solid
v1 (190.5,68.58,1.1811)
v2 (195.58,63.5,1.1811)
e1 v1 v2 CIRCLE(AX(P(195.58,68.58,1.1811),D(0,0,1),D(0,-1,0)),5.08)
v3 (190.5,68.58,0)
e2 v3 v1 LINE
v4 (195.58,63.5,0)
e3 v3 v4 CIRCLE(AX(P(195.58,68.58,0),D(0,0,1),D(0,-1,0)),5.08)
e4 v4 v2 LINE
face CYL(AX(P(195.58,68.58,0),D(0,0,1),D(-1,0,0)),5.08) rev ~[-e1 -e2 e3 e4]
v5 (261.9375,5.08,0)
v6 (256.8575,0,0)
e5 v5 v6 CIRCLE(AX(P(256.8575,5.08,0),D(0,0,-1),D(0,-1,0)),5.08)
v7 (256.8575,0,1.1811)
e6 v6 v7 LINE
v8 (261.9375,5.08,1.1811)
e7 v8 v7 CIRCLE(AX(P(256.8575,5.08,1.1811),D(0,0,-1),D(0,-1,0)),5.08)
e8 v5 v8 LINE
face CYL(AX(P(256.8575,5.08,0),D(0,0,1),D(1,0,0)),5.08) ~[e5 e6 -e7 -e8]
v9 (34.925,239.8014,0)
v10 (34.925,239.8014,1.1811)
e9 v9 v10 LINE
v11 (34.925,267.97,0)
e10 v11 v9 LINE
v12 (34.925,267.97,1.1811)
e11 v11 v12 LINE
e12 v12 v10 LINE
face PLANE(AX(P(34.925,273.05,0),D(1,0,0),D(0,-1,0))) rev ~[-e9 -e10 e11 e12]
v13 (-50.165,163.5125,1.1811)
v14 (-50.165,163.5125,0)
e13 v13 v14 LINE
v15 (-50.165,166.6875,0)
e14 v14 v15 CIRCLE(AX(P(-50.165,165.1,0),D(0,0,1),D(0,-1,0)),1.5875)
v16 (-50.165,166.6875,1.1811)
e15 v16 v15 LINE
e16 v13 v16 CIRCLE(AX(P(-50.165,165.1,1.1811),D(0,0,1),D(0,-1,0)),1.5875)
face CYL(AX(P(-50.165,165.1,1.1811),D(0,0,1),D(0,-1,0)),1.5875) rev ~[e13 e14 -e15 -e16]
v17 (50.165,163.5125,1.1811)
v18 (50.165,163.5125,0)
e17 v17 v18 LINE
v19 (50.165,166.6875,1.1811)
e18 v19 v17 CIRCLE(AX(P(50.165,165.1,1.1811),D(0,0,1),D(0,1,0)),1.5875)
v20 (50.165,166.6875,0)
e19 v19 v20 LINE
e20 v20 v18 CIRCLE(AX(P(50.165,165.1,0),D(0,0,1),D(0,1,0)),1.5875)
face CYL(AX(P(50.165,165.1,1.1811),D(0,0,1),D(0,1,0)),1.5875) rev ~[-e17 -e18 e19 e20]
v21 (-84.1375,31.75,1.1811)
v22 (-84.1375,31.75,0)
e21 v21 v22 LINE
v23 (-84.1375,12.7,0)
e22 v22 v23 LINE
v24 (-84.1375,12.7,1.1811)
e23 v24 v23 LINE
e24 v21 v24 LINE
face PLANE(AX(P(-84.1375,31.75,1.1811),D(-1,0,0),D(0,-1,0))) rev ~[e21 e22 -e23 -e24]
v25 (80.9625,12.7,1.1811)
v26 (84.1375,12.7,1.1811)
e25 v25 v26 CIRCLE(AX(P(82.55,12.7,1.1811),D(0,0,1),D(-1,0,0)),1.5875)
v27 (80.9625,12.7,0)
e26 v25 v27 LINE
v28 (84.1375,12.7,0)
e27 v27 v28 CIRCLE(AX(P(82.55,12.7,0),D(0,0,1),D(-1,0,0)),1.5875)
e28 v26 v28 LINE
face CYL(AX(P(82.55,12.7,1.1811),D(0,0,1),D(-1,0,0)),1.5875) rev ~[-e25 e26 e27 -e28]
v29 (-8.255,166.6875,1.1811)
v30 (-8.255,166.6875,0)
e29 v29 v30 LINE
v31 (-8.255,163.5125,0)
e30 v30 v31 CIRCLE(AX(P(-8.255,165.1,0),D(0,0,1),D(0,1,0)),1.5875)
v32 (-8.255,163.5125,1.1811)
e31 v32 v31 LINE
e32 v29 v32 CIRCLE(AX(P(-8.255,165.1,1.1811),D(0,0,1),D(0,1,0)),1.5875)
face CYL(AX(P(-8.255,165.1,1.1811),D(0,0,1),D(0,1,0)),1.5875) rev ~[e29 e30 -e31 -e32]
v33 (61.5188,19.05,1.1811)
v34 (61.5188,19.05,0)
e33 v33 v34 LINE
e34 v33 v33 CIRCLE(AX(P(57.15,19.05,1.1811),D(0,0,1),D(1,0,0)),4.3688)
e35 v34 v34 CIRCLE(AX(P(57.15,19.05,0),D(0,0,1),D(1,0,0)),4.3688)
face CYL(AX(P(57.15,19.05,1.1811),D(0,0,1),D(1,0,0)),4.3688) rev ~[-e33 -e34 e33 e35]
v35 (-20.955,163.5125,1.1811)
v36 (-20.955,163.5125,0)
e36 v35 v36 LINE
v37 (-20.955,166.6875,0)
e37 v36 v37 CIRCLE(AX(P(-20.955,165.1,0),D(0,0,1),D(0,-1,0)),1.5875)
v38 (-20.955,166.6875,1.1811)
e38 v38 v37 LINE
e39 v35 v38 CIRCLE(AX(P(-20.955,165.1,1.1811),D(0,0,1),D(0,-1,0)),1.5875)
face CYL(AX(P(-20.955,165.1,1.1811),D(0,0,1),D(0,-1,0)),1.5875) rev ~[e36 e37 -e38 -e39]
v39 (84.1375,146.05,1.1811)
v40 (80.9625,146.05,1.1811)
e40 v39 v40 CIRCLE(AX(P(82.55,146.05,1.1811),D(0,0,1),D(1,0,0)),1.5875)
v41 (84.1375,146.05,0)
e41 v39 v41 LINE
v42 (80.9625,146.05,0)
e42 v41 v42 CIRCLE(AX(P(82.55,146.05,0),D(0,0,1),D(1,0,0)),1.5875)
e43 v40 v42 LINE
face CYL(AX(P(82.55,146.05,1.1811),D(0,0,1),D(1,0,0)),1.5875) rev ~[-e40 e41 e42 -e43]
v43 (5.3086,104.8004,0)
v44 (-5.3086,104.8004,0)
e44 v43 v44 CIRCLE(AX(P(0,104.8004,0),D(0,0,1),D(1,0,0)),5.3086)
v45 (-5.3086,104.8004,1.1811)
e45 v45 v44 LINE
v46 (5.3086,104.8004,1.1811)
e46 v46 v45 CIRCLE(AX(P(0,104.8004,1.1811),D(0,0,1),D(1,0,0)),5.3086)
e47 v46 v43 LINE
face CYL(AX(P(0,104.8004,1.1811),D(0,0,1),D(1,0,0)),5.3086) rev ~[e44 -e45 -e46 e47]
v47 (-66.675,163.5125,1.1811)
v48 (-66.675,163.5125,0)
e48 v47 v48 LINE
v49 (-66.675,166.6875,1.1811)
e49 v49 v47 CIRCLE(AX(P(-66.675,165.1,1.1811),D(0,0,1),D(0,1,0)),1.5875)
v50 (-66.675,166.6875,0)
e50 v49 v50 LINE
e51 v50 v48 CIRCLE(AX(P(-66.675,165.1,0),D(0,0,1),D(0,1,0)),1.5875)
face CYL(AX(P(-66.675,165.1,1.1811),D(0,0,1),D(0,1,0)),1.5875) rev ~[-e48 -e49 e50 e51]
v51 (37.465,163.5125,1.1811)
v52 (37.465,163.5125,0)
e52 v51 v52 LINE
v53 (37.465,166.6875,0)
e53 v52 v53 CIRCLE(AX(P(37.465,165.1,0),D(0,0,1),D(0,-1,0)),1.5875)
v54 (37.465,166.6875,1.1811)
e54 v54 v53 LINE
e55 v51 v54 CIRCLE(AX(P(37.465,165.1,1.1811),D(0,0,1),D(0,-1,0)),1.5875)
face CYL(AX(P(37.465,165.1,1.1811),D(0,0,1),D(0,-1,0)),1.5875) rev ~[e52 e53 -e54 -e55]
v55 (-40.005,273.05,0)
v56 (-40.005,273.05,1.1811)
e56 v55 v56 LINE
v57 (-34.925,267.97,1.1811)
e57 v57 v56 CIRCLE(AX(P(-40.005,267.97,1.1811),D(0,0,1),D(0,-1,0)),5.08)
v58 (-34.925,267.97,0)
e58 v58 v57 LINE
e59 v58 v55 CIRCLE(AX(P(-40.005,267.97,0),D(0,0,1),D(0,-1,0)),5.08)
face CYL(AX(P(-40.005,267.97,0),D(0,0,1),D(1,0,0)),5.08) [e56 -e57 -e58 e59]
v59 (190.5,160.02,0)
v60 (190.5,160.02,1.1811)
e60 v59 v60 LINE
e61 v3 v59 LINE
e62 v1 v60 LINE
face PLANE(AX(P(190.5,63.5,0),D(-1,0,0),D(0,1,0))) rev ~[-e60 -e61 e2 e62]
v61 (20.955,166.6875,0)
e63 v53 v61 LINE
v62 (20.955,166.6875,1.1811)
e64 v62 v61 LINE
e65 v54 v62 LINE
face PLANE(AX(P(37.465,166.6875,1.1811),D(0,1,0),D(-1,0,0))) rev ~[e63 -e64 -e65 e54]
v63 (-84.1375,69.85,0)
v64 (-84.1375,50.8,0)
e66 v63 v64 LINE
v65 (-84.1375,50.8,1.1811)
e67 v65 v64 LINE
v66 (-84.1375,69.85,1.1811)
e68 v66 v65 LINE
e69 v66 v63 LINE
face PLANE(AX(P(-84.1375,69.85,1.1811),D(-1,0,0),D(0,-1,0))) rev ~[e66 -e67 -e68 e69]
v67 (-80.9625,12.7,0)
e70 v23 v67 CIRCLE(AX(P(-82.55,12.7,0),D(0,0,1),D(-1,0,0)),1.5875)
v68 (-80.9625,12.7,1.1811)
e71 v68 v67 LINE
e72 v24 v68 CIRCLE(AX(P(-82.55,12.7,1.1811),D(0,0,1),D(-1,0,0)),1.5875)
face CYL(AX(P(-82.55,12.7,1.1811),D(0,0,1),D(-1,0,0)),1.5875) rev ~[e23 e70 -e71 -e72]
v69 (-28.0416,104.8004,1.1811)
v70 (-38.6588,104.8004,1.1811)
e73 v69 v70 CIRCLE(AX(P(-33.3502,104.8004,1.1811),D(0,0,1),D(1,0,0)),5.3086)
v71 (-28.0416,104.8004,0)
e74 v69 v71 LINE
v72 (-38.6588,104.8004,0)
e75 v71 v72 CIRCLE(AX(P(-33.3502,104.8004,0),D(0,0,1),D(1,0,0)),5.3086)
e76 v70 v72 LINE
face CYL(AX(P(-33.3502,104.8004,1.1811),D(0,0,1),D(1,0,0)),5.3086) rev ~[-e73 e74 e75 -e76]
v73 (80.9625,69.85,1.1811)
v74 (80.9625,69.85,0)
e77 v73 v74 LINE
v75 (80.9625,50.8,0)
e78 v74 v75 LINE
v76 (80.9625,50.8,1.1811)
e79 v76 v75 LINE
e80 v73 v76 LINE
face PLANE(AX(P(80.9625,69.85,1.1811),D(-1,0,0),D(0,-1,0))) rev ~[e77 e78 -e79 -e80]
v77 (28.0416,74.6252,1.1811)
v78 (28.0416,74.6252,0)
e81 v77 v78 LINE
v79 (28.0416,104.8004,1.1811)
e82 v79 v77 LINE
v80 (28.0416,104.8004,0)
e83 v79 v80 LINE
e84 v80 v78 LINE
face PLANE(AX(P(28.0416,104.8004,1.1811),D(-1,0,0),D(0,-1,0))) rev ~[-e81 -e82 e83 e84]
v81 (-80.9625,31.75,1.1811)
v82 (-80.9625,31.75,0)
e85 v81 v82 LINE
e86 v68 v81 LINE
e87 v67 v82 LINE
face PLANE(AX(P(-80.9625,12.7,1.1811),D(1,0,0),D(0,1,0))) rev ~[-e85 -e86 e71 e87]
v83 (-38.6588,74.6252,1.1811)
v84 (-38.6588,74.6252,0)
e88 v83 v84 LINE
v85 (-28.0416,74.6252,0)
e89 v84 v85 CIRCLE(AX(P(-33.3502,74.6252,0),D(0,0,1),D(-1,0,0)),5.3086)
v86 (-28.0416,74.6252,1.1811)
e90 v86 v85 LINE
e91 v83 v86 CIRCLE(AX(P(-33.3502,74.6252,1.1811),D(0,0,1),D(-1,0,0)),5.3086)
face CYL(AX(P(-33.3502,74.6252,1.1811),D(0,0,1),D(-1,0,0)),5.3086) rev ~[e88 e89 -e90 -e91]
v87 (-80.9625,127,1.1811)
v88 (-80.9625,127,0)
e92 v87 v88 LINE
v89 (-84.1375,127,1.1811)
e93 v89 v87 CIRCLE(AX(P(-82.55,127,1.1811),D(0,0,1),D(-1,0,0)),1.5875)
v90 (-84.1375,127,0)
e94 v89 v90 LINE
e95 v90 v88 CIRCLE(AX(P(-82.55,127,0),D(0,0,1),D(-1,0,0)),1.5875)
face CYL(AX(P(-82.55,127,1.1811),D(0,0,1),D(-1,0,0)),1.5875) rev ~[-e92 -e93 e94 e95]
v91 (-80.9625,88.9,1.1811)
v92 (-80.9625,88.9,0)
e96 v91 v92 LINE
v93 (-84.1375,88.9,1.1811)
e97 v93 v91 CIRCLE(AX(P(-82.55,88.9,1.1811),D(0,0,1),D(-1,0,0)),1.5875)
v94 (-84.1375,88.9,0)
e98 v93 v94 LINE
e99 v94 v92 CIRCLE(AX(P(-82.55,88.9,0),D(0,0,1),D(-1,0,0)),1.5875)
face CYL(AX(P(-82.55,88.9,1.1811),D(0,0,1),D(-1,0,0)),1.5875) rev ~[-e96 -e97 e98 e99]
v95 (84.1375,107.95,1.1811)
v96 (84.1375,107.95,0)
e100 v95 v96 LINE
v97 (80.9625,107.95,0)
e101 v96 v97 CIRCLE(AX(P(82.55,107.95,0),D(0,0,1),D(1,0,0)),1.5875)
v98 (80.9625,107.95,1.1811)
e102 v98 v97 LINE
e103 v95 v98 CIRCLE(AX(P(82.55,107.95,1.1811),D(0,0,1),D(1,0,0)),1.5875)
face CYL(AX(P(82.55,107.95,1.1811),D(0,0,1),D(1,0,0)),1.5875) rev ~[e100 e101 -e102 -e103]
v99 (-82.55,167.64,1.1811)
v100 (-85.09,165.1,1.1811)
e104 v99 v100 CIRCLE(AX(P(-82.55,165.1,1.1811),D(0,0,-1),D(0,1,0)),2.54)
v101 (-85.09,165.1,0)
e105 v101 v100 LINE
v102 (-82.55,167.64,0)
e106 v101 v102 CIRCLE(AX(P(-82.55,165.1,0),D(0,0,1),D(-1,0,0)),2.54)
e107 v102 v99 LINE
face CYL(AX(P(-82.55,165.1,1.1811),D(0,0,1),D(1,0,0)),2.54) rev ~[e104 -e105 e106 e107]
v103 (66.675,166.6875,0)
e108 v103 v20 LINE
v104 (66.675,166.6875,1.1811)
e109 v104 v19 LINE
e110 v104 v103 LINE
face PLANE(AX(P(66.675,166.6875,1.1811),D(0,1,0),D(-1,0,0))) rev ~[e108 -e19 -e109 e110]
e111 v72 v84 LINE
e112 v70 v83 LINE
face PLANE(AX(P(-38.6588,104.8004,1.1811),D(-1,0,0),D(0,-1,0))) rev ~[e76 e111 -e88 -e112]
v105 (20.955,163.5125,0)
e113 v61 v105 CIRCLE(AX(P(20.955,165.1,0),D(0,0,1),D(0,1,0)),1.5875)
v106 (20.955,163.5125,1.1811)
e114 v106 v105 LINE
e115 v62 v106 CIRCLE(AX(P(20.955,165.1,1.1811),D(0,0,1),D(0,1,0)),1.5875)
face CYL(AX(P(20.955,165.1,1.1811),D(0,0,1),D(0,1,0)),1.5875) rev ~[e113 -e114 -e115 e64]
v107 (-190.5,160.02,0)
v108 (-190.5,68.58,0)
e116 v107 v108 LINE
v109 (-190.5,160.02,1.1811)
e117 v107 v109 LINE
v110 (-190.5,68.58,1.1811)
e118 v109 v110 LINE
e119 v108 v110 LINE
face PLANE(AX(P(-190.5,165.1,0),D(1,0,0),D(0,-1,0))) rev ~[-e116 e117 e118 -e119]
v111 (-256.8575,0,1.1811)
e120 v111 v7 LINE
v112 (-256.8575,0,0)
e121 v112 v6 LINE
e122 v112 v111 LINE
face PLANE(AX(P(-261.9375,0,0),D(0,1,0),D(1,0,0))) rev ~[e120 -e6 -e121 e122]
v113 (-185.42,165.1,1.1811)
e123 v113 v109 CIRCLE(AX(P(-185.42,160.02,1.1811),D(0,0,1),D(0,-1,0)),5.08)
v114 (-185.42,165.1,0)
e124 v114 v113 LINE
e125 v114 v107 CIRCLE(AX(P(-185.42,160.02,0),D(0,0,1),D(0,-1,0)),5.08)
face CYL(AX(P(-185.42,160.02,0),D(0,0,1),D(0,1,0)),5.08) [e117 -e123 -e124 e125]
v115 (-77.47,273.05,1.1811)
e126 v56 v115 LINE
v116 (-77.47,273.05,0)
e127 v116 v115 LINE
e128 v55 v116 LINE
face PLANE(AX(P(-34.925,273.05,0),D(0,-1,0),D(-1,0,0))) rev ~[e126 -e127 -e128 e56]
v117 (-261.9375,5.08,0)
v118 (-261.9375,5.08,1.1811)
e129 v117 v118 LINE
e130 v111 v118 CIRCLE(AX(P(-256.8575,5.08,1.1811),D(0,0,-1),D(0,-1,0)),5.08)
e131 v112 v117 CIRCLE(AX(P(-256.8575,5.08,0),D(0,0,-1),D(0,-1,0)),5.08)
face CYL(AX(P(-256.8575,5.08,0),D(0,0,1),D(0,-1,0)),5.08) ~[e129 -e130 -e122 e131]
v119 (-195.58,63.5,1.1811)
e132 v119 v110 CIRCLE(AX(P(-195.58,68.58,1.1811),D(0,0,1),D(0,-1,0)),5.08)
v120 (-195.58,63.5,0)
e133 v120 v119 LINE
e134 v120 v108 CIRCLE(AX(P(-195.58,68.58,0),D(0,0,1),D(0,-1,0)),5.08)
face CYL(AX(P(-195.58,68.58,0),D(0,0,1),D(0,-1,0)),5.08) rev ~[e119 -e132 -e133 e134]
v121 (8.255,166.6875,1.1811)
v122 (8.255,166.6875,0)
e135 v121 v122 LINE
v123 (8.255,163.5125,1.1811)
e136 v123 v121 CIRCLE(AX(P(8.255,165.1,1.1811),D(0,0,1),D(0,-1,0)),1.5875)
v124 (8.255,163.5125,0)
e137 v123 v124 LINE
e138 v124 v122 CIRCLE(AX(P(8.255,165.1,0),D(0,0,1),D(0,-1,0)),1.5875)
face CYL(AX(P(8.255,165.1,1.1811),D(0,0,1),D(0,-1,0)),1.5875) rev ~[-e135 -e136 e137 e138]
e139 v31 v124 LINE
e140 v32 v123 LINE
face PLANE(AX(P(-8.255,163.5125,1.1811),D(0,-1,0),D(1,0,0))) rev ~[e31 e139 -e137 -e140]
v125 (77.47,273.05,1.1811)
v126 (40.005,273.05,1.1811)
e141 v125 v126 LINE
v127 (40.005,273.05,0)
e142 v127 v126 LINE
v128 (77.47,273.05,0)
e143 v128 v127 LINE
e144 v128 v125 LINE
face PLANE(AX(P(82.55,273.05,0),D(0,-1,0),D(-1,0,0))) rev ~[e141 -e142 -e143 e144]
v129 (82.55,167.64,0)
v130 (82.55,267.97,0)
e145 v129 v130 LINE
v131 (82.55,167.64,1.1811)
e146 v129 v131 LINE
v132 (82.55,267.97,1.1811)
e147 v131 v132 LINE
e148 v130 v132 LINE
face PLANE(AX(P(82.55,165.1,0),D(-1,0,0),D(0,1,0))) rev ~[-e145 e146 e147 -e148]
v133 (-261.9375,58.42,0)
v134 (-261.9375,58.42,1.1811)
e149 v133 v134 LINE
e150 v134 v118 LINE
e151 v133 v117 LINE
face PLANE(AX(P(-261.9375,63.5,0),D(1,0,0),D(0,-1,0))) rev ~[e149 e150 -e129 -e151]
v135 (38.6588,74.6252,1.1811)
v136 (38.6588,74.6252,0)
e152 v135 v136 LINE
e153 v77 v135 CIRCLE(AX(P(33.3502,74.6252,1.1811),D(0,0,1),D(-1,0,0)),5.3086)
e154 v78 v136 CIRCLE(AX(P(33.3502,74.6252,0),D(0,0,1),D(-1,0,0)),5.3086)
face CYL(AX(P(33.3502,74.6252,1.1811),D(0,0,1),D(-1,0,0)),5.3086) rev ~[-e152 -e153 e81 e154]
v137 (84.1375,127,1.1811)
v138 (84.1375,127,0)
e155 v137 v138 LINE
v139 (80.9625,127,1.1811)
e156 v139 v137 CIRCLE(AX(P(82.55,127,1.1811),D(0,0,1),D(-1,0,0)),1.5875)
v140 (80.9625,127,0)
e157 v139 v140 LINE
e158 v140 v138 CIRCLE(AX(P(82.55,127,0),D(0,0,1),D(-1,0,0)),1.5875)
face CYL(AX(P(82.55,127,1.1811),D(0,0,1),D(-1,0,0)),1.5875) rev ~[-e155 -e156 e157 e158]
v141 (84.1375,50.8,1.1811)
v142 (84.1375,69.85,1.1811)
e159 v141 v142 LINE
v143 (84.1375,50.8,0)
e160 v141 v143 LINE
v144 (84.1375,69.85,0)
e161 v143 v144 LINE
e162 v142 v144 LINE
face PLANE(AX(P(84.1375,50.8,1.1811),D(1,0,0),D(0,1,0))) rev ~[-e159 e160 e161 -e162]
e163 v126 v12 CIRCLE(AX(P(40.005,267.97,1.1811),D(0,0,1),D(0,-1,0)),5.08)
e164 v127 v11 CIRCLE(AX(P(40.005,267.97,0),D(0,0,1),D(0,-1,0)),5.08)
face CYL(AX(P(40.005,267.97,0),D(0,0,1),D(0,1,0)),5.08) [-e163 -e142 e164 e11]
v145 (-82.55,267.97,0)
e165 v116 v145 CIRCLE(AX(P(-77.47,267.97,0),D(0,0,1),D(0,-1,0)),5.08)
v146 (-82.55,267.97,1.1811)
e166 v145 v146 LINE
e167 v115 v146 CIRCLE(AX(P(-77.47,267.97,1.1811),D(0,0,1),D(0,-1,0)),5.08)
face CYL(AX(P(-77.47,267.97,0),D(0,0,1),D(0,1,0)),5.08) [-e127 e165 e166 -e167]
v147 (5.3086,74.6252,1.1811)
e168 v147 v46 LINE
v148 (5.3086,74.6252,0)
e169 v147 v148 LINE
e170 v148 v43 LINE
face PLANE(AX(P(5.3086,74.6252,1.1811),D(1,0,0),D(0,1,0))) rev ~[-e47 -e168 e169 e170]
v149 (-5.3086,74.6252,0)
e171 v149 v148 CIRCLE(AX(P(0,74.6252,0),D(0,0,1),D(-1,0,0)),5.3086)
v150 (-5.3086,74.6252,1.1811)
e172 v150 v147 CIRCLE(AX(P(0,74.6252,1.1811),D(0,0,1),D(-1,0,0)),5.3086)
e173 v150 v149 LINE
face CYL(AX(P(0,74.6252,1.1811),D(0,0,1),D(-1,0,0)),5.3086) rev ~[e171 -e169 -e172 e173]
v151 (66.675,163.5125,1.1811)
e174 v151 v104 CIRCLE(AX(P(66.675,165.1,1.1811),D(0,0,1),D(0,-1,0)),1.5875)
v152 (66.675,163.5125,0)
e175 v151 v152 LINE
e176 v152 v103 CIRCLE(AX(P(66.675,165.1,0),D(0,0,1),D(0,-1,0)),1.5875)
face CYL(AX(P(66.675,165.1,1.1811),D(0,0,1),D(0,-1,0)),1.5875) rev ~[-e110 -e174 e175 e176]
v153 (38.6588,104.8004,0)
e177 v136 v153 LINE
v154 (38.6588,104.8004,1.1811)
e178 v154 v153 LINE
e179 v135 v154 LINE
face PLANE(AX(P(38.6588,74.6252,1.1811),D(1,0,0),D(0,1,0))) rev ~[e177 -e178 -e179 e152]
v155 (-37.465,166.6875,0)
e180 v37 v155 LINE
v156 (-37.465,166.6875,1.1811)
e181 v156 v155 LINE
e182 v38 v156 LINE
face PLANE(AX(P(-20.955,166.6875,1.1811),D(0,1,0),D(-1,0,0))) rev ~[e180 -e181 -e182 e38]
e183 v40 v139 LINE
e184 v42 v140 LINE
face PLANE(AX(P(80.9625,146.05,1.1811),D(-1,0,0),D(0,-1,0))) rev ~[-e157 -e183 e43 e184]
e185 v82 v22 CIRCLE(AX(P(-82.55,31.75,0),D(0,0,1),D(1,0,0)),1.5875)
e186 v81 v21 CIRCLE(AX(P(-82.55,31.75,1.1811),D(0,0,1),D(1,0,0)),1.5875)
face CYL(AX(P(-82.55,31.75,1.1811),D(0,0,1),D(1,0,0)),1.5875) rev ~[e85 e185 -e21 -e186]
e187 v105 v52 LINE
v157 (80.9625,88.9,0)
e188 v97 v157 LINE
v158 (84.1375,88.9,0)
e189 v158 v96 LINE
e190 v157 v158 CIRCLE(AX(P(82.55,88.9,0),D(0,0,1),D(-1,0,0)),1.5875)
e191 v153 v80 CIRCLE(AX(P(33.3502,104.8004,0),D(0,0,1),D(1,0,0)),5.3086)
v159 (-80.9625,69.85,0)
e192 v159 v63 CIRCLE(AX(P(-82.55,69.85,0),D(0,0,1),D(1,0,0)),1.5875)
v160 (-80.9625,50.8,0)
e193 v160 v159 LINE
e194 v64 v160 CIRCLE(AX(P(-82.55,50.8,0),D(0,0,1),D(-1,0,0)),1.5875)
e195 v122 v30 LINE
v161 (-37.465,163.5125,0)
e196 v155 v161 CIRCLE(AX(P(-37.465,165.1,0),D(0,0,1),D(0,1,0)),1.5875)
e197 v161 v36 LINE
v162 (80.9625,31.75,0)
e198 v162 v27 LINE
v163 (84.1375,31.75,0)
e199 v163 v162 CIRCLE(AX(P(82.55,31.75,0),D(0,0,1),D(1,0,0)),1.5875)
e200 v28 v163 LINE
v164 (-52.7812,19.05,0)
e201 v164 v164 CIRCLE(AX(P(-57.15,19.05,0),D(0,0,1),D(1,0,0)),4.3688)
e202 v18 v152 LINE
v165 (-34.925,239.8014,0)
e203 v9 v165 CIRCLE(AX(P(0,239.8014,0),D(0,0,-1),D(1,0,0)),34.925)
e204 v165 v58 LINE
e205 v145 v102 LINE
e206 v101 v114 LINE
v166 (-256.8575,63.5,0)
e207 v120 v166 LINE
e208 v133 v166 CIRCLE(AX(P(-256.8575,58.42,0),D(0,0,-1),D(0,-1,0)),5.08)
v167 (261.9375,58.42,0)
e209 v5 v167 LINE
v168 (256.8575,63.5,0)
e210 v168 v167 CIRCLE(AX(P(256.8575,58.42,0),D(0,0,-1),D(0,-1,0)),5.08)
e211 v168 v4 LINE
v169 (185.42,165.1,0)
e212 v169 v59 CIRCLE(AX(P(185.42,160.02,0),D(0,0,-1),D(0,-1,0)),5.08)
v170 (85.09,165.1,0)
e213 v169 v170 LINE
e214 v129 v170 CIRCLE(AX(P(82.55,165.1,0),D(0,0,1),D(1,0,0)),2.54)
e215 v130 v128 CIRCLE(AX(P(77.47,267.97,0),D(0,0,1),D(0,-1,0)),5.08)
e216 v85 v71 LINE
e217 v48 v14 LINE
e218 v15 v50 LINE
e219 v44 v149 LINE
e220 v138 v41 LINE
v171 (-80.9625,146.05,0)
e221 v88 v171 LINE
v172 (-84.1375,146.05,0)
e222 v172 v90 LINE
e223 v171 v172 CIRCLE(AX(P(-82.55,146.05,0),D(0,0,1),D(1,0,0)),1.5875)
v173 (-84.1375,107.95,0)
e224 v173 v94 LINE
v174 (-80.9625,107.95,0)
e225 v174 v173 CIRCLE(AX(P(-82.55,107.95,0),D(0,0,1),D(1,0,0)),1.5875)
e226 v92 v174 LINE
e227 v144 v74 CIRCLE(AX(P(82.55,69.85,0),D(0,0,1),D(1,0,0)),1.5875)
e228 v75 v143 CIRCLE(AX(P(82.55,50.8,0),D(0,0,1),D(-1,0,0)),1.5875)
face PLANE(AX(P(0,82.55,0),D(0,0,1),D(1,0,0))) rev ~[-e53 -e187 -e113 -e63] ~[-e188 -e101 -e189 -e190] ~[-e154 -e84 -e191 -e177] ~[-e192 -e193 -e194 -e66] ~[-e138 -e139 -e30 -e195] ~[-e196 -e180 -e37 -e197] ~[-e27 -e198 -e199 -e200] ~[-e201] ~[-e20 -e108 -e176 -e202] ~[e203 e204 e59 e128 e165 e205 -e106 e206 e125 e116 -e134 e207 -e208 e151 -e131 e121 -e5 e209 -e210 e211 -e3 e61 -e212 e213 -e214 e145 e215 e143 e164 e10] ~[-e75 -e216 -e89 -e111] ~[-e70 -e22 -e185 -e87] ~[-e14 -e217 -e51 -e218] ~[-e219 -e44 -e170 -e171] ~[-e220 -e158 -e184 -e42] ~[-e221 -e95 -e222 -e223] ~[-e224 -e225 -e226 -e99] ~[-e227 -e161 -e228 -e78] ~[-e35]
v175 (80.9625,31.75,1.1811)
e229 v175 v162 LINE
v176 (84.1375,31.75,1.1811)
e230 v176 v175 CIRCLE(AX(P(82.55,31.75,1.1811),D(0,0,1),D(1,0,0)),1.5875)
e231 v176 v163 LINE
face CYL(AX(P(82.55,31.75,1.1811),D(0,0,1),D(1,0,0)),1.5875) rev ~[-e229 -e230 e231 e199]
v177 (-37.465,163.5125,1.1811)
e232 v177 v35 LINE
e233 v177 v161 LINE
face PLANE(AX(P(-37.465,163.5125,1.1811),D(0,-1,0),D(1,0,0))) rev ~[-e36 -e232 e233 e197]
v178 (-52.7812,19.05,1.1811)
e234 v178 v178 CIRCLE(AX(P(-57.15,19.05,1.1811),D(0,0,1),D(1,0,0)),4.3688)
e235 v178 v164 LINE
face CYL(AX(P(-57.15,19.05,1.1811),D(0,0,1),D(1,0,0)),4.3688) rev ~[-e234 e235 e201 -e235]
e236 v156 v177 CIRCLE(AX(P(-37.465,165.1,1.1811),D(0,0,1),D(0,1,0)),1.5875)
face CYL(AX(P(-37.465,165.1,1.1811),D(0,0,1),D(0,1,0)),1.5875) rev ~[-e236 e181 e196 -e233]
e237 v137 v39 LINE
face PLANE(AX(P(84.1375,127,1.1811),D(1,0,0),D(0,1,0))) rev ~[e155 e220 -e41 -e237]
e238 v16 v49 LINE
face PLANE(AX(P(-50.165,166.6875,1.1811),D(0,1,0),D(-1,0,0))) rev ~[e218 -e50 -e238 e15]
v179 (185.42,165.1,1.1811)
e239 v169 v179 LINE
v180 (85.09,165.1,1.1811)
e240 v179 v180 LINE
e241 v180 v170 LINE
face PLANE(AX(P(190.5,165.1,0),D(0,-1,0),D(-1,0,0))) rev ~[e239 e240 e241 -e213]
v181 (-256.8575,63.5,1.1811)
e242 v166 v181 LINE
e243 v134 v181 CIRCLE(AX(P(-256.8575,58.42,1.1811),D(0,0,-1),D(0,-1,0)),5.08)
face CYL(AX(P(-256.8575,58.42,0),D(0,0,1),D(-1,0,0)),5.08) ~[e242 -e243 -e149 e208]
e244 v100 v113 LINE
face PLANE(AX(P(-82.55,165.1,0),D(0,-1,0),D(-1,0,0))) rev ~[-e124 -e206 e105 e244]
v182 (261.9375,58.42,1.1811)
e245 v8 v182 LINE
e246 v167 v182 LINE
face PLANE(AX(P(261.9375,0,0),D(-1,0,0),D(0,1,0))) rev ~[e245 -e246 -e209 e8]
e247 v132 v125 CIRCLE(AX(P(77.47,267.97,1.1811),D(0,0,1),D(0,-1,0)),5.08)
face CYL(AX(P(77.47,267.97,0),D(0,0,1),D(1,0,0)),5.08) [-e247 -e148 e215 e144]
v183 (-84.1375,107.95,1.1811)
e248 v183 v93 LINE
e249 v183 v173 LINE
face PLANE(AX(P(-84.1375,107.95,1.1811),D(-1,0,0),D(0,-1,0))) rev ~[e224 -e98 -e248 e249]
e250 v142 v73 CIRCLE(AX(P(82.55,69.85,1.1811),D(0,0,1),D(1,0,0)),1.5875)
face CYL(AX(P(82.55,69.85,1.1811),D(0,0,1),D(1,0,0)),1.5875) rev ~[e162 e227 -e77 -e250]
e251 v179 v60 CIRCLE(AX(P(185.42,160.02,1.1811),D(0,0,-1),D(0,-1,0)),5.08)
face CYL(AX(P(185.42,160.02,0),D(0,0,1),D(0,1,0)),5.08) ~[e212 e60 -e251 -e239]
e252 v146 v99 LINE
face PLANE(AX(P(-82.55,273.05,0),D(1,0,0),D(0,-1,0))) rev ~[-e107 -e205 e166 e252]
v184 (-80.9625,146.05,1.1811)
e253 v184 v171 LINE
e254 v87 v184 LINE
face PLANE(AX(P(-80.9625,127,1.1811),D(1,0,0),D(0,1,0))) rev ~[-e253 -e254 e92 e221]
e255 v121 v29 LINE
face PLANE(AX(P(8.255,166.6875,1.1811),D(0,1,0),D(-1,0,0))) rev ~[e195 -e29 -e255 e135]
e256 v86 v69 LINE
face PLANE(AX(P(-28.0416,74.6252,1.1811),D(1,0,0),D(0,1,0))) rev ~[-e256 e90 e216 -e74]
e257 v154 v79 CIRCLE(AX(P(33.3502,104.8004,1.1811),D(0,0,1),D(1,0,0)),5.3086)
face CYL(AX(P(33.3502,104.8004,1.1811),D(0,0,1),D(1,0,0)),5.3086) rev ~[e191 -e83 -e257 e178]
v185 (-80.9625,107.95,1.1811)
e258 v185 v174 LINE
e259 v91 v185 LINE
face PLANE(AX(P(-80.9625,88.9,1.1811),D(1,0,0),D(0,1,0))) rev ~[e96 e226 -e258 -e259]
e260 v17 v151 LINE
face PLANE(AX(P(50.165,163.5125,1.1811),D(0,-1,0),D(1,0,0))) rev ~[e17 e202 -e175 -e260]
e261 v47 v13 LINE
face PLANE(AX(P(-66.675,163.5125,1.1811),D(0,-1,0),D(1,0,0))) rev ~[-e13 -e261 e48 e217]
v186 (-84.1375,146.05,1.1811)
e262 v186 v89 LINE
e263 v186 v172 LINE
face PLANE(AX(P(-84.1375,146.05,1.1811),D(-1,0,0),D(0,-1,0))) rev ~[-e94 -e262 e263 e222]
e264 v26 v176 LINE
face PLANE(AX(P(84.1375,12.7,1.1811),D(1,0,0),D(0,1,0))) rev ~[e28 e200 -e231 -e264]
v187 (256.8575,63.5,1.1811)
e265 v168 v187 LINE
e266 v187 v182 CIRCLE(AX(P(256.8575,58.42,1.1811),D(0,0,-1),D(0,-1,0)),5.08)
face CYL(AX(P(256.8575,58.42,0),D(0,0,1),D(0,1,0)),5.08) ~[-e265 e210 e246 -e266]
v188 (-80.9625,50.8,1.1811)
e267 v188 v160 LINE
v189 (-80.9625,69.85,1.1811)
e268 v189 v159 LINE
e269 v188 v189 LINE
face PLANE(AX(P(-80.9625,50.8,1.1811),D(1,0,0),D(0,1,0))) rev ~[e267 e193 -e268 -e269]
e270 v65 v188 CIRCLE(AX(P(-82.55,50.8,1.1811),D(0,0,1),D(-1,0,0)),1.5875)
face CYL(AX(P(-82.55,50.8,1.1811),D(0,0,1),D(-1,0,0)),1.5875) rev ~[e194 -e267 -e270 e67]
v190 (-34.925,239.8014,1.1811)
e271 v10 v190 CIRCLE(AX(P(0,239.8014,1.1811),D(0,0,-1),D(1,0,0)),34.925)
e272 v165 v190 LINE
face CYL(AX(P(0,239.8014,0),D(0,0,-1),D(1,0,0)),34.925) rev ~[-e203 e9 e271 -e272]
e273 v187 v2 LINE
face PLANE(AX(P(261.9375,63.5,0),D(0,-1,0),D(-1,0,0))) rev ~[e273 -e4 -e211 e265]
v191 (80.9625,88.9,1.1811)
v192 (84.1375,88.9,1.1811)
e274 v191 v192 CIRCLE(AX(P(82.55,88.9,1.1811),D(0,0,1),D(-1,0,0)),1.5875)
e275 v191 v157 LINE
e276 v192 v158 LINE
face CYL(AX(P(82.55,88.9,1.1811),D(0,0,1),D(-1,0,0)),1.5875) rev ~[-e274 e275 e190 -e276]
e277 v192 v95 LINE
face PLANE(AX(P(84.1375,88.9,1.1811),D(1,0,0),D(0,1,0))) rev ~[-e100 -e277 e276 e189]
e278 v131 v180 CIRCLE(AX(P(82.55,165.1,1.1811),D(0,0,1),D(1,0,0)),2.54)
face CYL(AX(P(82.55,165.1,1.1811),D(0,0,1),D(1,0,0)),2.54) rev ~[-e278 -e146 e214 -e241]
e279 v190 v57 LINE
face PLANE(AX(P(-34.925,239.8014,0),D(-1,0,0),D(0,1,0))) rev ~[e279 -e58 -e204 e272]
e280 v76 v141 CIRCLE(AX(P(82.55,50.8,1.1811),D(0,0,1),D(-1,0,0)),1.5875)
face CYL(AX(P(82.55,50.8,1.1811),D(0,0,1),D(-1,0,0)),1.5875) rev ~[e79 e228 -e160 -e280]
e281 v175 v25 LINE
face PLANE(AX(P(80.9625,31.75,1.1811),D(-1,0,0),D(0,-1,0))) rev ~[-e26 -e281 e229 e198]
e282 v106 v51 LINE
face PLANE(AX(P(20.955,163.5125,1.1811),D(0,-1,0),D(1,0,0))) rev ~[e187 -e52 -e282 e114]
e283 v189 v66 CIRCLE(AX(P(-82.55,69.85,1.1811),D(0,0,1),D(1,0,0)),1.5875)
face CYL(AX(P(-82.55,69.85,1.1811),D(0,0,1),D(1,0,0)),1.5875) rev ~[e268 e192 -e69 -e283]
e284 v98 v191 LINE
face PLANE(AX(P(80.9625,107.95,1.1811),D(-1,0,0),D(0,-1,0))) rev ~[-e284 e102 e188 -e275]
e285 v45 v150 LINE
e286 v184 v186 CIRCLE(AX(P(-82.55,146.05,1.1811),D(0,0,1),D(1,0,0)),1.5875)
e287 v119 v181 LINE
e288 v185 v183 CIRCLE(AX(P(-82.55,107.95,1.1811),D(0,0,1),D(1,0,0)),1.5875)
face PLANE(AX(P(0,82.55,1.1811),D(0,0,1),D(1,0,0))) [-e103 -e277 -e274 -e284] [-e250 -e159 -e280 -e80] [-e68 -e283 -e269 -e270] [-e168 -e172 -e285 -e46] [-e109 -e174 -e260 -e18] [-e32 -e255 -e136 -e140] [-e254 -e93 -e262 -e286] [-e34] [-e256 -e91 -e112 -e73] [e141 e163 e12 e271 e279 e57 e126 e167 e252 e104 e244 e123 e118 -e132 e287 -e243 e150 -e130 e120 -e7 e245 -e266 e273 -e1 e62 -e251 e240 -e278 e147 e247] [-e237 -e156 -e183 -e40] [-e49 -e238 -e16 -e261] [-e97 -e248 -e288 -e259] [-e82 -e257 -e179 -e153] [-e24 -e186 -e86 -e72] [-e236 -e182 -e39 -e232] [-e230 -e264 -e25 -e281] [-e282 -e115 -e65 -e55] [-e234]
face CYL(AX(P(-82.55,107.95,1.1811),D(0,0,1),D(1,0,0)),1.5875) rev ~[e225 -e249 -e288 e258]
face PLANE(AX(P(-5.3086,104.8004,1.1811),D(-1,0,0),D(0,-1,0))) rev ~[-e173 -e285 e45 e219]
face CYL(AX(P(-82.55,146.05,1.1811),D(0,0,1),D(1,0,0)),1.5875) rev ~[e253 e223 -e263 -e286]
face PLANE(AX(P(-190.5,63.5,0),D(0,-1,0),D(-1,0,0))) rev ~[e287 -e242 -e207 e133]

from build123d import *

# Parameters (mm, degrees)
F0_W     = 165.1
F0_H     = 165.1
F0_W_2   = 1.5875
F1_DEPTH = 1.1811
F2_R     = 4.3688
F3_DEPTH = 1.1811
F4_R     = 5.08
F5_R     = 2.54
F6_DEPTH = 1.1811


with BuildPart() as f1:
    # F0 (on Top) → F1 (new body)
    with BuildSketch(Plane.XY):
        with Locations((0, 82.55)):
            Rectangle(F0_W, F0_H)
        with Locations((-83.34375, 82.55)):
            Rectangle(F0_W_2, F0_H)
        with Locations((83.34375, 82.55)):
            Rectangle(F0_W_2, F0_H)
        with BuildLine():
            Line((-82.55, 273.05), (-82.55, 165.1))
            Line((-82.55, 165.1), (82.55, 165.1))
            Line((82.55, 165.1), (82.55, 273.05))
            Line((82.55, 273.05), (34.925, 273.05))
            Line((34.925, 273.05), (34.925, 239.8014))
            ThreePointArc((34.925, 239.8014), (0, 204.8764), (-34.925, 239.8014))
            Line((-34.925, 239.8014), (-34.925, 273.05))
            Line((-34.925, 273.05), (-82.55, 273.05))
        make_face()
        Polygon((-261.9375, 0), (-84.1375, 0), (-84.1375, 165.1), (-190.5, 165.1), (-190.5, 63.5), (-261.9375, 63.5), align=None)
        Polygon((84.1375, 165.1), (84.1375, 0), (261.9375, 0), (261.9375, 63.5), (190.5, 63.5), (190.5, 165.1), align=None)
    extrude(amount=F1_DEPTH)

    # F2 (on face) → F3 (cut, through all)
    with BuildSketch(Plane.XY.offset(1.1811)):
        with Locations((-57.15, 19.05)):
            Circle(F2_R)
        with Locations((57.15, 19.05)):
            Circle(F2_R)
        with BuildLine():
            ThreePointArc((-28.0416, 104.8004), (-33.3502, 110.109), (-38.6588, 104.8004))
            Line((-38.6588, 104.8004), (-38.6588, 74.6252))
            ThreePointArc((-38.6588, 74.6252), (-33.3502, 69.3166), (-28.0416, 74.6252))
            Line((-28.0416, 74.6252), (-28.0416, 104.8004))
        make_face()
        with BuildLine():
            ThreePointArc((-5.3086, 74.6252), (0, 69.3166), (5.3086, 74.6252))
            Line((5.3086, 74.6252), (5.3086, 104.8004))
            ThreePointArc((5.3086, 104.8004), (0, 110.109), (-5.3086, 104.8004))
            Line((-5.3086, 104.8004), (-5.3086, 74.6252))
        make_face()
        with BuildLine():
            ThreePointArc((38.6588, 104.8004), (33.3502, 110.109), (28.0416, 104.8004))
            Line((28.0416, 104.8004), (28.0416, 74.6252))
            ThreePointArc((28.0416, 74.6252), (33.3502, 69.3166), (38.6588, 74.6252))
            Line((38.6588, 74.6252), (38.6588, 104.8004))
        make_face()
    extrude(amount=-F3_DEPTH, mode=Mode.SUBTRACT)

    # F4
    f4_edges = [f1.edges().sort_by_distance(p)[0] for p in [
        (-82.55, 273.05, 0.59055),
        (-34.925, 273.05, 0.59055),
        (34.925, 273.05, 0.59055),
        (82.55, 273.05, 0.59055),
        (190.5, 165.1, 0.59055),
        (261.9375, 63.5, 0.59055),
        (190.5, 63.5, 0.59055),
        (261.9375, 0, 0.59055),
        (-261.9375, 0, 0.59055),
        (-261.9375, 63.5, 0.59055),
        (-190.5, 63.5, 0.59055),
        (-190.5, 165.1, 0.59055),
    ]]
    fillet(f4_edges, radius=F4_R)

    # F5 (on face) → F6 (cut, through all)
    with BuildSketch(Plane.XY.offset(1.1811)):
        with BuildLine():
            ThreePointArc((-80.9625, 146.05), (-82.55, 147.6375), (-84.1375, 146.05))
            Line((-84.1375, 146.05), (-84.1375, 127))
            ThreePointArc((-84.1375, 127), (-82.55, 125.4125), (-80.9625, 127))
            Line((-80.9625, 127), (-80.9625, 146.05))
        make_face()
        with BuildLine():
            ThreePointArc((-80.9625, 107.95), (-82.55, 109.5375), (-84.1375, 107.95))
            Line((-84.1375, 107.95), (-84.1375, 88.9))
            ThreePointArc((-84.1375, 88.9), (-82.55, 87.3125), (-80.9625, 88.9))
            Line((-80.9625, 88.9), (-80.9625, 107.95))
        make_face()
        with BuildLine():
            ThreePointArc((-80.9625, 69.85), (-82.55, 71.4375), (-84.1375, 69.85))
            Line((-84.1375, 69.85), (-84.1375, 50.8))
            ThreePointArc((-84.1375, 50.8), (-82.55, 49.2125), (-80.9625, 50.8))
            Line((-80.9625, 50.8), (-80.9625, 69.85))
        make_face()
        with BuildLine():
            ThreePointArc((-80.9625, 31.75), (-82.55, 33.3375), (-84.1375, 31.75))
            Line((-84.1375, 31.75), (-84.1375, 12.7))
            ThreePointArc((-84.1375, 12.7), (-82.55, 11.1125), (-80.9625, 12.7))
            Line((-80.9625, 12.7), (-80.9625, 31.75))
        make_face()
        with BuildLine():
            Line((84.1375, 127), (84.1375, 146.05))
            ThreePointArc((84.1375, 146.05), (82.55, 147.6375), (80.9625, 146.05))
            Line((80.9625, 146.05), (80.9625, 127))
            ThreePointArc((80.9625, 127), (82.55, 125.4125), (84.1375, 127))
        make_face()
        with BuildLine():
            Line((80.9625, 107.95), (80.9625, 88.9))
            ThreePointArc((80.9625, 88.9), (82.55, 87.3125), (84.1375, 88.9))
            Line((84.1375, 88.9), (84.1375, 107.95))
            ThreePointArc((84.1375, 107.95), (82.55, 109.5375), (80.9625, 107.95))
        make_face()
        with BuildLine():
            Line((84.1375, 50.8), (84.1375, 69.85))
            ThreePointArc((84.1375, 69.85), (82.55, 71.4375), (80.9625, 69.85))
            Line((80.9625, 69.85), (80.9625, 50.8))
            ThreePointArc((80.9625, 50.8), (82.55, 49.2125), (84.1375, 50.8))
        make_face()
        with BuildLine():
            Line((80.9625, 31.75), (80.9625, 12.7))
            ThreePointArc((80.9625, 12.7), (82.55, 11.1125), (84.1375, 12.7))
            Line((84.1375, 12.7), (84.1375, 31.75))
            ThreePointArc((84.1375, 31.75), (82.55, 33.3375), (80.9625, 31.75))
        make_face()
        with BuildLine():
            ThreePointArc((-66.675, 166.6875), (-68.2625, 165.1), (-66.675, 163.5125))
            Line((-66.675, 163.5125), (-50.165, 163.5125))
            ThreePointArc((-50.165, 163.5125), (-48.5775, 165.1), (-50.165, 166.6875))
            Line((-50.165, 166.6875), (-66.675, 166.6875))
        make_face()
        with BuildLine():
            ThreePointArc((-37.465, 166.6875), (-39.0525, 165.1), (-37.465, 163.5125))
            Line((-37.465, 163.5125), (-20.955, 163.5125))
            ThreePointArc((-20.955, 163.5125), (-19.3675, 165.1), (-20.955, 166.6875))
            Line((-20.955, 166.6875), (-37.465, 166.6875))
        make_face()
        with BuildLine():
            ThreePointArc((-8.255, 166.6875), (-9.8425, 165.1), (-8.255, 163.5125))
            Line((-8.255, 163.5125), (8.255, 163.5125))
            ThreePointArc((8.255, 163.5125), (9.8425, 165.1), (8.255, 166.6875))
            Line((8.255, 166.6875), (-8.255, 166.6875))
        make_face()
        with BuildLine():
            ThreePointArc((20.955, 166.6875), (19.3675, 165.1), (20.955, 163.5125))
            Line((20.955, 163.5125), (37.465, 163.5125))
            ThreePointArc((37.465, 163.5125), (39.0525, 165.1), (37.465, 166.6875))
            Line((37.465, 166.6875), (20.955, 166.6875))
        make_face()
        with BuildLine():
            ThreePointArc((50.165, 166.6875), (48.5775, 165.1), (50.165, 163.5125))
            Line((50.165, 163.5125), (66.675, 163.5125))
            ThreePointArc((66.675, 163.5125), (68.2625, 165.1), (66.675, 166.6875))
            Line((66.675, 166.6875), (50.165, 166.6875))
        make_face()
        with Locations((-82.55, 165.1)):
            Circle(F5_R)
        with Locations((82.55, 165.1)):
            Circle(F5_R)
    extrude(amount=-F6_DEPTH, mode=Mode.SUBTRACT)


solid = f1.part
